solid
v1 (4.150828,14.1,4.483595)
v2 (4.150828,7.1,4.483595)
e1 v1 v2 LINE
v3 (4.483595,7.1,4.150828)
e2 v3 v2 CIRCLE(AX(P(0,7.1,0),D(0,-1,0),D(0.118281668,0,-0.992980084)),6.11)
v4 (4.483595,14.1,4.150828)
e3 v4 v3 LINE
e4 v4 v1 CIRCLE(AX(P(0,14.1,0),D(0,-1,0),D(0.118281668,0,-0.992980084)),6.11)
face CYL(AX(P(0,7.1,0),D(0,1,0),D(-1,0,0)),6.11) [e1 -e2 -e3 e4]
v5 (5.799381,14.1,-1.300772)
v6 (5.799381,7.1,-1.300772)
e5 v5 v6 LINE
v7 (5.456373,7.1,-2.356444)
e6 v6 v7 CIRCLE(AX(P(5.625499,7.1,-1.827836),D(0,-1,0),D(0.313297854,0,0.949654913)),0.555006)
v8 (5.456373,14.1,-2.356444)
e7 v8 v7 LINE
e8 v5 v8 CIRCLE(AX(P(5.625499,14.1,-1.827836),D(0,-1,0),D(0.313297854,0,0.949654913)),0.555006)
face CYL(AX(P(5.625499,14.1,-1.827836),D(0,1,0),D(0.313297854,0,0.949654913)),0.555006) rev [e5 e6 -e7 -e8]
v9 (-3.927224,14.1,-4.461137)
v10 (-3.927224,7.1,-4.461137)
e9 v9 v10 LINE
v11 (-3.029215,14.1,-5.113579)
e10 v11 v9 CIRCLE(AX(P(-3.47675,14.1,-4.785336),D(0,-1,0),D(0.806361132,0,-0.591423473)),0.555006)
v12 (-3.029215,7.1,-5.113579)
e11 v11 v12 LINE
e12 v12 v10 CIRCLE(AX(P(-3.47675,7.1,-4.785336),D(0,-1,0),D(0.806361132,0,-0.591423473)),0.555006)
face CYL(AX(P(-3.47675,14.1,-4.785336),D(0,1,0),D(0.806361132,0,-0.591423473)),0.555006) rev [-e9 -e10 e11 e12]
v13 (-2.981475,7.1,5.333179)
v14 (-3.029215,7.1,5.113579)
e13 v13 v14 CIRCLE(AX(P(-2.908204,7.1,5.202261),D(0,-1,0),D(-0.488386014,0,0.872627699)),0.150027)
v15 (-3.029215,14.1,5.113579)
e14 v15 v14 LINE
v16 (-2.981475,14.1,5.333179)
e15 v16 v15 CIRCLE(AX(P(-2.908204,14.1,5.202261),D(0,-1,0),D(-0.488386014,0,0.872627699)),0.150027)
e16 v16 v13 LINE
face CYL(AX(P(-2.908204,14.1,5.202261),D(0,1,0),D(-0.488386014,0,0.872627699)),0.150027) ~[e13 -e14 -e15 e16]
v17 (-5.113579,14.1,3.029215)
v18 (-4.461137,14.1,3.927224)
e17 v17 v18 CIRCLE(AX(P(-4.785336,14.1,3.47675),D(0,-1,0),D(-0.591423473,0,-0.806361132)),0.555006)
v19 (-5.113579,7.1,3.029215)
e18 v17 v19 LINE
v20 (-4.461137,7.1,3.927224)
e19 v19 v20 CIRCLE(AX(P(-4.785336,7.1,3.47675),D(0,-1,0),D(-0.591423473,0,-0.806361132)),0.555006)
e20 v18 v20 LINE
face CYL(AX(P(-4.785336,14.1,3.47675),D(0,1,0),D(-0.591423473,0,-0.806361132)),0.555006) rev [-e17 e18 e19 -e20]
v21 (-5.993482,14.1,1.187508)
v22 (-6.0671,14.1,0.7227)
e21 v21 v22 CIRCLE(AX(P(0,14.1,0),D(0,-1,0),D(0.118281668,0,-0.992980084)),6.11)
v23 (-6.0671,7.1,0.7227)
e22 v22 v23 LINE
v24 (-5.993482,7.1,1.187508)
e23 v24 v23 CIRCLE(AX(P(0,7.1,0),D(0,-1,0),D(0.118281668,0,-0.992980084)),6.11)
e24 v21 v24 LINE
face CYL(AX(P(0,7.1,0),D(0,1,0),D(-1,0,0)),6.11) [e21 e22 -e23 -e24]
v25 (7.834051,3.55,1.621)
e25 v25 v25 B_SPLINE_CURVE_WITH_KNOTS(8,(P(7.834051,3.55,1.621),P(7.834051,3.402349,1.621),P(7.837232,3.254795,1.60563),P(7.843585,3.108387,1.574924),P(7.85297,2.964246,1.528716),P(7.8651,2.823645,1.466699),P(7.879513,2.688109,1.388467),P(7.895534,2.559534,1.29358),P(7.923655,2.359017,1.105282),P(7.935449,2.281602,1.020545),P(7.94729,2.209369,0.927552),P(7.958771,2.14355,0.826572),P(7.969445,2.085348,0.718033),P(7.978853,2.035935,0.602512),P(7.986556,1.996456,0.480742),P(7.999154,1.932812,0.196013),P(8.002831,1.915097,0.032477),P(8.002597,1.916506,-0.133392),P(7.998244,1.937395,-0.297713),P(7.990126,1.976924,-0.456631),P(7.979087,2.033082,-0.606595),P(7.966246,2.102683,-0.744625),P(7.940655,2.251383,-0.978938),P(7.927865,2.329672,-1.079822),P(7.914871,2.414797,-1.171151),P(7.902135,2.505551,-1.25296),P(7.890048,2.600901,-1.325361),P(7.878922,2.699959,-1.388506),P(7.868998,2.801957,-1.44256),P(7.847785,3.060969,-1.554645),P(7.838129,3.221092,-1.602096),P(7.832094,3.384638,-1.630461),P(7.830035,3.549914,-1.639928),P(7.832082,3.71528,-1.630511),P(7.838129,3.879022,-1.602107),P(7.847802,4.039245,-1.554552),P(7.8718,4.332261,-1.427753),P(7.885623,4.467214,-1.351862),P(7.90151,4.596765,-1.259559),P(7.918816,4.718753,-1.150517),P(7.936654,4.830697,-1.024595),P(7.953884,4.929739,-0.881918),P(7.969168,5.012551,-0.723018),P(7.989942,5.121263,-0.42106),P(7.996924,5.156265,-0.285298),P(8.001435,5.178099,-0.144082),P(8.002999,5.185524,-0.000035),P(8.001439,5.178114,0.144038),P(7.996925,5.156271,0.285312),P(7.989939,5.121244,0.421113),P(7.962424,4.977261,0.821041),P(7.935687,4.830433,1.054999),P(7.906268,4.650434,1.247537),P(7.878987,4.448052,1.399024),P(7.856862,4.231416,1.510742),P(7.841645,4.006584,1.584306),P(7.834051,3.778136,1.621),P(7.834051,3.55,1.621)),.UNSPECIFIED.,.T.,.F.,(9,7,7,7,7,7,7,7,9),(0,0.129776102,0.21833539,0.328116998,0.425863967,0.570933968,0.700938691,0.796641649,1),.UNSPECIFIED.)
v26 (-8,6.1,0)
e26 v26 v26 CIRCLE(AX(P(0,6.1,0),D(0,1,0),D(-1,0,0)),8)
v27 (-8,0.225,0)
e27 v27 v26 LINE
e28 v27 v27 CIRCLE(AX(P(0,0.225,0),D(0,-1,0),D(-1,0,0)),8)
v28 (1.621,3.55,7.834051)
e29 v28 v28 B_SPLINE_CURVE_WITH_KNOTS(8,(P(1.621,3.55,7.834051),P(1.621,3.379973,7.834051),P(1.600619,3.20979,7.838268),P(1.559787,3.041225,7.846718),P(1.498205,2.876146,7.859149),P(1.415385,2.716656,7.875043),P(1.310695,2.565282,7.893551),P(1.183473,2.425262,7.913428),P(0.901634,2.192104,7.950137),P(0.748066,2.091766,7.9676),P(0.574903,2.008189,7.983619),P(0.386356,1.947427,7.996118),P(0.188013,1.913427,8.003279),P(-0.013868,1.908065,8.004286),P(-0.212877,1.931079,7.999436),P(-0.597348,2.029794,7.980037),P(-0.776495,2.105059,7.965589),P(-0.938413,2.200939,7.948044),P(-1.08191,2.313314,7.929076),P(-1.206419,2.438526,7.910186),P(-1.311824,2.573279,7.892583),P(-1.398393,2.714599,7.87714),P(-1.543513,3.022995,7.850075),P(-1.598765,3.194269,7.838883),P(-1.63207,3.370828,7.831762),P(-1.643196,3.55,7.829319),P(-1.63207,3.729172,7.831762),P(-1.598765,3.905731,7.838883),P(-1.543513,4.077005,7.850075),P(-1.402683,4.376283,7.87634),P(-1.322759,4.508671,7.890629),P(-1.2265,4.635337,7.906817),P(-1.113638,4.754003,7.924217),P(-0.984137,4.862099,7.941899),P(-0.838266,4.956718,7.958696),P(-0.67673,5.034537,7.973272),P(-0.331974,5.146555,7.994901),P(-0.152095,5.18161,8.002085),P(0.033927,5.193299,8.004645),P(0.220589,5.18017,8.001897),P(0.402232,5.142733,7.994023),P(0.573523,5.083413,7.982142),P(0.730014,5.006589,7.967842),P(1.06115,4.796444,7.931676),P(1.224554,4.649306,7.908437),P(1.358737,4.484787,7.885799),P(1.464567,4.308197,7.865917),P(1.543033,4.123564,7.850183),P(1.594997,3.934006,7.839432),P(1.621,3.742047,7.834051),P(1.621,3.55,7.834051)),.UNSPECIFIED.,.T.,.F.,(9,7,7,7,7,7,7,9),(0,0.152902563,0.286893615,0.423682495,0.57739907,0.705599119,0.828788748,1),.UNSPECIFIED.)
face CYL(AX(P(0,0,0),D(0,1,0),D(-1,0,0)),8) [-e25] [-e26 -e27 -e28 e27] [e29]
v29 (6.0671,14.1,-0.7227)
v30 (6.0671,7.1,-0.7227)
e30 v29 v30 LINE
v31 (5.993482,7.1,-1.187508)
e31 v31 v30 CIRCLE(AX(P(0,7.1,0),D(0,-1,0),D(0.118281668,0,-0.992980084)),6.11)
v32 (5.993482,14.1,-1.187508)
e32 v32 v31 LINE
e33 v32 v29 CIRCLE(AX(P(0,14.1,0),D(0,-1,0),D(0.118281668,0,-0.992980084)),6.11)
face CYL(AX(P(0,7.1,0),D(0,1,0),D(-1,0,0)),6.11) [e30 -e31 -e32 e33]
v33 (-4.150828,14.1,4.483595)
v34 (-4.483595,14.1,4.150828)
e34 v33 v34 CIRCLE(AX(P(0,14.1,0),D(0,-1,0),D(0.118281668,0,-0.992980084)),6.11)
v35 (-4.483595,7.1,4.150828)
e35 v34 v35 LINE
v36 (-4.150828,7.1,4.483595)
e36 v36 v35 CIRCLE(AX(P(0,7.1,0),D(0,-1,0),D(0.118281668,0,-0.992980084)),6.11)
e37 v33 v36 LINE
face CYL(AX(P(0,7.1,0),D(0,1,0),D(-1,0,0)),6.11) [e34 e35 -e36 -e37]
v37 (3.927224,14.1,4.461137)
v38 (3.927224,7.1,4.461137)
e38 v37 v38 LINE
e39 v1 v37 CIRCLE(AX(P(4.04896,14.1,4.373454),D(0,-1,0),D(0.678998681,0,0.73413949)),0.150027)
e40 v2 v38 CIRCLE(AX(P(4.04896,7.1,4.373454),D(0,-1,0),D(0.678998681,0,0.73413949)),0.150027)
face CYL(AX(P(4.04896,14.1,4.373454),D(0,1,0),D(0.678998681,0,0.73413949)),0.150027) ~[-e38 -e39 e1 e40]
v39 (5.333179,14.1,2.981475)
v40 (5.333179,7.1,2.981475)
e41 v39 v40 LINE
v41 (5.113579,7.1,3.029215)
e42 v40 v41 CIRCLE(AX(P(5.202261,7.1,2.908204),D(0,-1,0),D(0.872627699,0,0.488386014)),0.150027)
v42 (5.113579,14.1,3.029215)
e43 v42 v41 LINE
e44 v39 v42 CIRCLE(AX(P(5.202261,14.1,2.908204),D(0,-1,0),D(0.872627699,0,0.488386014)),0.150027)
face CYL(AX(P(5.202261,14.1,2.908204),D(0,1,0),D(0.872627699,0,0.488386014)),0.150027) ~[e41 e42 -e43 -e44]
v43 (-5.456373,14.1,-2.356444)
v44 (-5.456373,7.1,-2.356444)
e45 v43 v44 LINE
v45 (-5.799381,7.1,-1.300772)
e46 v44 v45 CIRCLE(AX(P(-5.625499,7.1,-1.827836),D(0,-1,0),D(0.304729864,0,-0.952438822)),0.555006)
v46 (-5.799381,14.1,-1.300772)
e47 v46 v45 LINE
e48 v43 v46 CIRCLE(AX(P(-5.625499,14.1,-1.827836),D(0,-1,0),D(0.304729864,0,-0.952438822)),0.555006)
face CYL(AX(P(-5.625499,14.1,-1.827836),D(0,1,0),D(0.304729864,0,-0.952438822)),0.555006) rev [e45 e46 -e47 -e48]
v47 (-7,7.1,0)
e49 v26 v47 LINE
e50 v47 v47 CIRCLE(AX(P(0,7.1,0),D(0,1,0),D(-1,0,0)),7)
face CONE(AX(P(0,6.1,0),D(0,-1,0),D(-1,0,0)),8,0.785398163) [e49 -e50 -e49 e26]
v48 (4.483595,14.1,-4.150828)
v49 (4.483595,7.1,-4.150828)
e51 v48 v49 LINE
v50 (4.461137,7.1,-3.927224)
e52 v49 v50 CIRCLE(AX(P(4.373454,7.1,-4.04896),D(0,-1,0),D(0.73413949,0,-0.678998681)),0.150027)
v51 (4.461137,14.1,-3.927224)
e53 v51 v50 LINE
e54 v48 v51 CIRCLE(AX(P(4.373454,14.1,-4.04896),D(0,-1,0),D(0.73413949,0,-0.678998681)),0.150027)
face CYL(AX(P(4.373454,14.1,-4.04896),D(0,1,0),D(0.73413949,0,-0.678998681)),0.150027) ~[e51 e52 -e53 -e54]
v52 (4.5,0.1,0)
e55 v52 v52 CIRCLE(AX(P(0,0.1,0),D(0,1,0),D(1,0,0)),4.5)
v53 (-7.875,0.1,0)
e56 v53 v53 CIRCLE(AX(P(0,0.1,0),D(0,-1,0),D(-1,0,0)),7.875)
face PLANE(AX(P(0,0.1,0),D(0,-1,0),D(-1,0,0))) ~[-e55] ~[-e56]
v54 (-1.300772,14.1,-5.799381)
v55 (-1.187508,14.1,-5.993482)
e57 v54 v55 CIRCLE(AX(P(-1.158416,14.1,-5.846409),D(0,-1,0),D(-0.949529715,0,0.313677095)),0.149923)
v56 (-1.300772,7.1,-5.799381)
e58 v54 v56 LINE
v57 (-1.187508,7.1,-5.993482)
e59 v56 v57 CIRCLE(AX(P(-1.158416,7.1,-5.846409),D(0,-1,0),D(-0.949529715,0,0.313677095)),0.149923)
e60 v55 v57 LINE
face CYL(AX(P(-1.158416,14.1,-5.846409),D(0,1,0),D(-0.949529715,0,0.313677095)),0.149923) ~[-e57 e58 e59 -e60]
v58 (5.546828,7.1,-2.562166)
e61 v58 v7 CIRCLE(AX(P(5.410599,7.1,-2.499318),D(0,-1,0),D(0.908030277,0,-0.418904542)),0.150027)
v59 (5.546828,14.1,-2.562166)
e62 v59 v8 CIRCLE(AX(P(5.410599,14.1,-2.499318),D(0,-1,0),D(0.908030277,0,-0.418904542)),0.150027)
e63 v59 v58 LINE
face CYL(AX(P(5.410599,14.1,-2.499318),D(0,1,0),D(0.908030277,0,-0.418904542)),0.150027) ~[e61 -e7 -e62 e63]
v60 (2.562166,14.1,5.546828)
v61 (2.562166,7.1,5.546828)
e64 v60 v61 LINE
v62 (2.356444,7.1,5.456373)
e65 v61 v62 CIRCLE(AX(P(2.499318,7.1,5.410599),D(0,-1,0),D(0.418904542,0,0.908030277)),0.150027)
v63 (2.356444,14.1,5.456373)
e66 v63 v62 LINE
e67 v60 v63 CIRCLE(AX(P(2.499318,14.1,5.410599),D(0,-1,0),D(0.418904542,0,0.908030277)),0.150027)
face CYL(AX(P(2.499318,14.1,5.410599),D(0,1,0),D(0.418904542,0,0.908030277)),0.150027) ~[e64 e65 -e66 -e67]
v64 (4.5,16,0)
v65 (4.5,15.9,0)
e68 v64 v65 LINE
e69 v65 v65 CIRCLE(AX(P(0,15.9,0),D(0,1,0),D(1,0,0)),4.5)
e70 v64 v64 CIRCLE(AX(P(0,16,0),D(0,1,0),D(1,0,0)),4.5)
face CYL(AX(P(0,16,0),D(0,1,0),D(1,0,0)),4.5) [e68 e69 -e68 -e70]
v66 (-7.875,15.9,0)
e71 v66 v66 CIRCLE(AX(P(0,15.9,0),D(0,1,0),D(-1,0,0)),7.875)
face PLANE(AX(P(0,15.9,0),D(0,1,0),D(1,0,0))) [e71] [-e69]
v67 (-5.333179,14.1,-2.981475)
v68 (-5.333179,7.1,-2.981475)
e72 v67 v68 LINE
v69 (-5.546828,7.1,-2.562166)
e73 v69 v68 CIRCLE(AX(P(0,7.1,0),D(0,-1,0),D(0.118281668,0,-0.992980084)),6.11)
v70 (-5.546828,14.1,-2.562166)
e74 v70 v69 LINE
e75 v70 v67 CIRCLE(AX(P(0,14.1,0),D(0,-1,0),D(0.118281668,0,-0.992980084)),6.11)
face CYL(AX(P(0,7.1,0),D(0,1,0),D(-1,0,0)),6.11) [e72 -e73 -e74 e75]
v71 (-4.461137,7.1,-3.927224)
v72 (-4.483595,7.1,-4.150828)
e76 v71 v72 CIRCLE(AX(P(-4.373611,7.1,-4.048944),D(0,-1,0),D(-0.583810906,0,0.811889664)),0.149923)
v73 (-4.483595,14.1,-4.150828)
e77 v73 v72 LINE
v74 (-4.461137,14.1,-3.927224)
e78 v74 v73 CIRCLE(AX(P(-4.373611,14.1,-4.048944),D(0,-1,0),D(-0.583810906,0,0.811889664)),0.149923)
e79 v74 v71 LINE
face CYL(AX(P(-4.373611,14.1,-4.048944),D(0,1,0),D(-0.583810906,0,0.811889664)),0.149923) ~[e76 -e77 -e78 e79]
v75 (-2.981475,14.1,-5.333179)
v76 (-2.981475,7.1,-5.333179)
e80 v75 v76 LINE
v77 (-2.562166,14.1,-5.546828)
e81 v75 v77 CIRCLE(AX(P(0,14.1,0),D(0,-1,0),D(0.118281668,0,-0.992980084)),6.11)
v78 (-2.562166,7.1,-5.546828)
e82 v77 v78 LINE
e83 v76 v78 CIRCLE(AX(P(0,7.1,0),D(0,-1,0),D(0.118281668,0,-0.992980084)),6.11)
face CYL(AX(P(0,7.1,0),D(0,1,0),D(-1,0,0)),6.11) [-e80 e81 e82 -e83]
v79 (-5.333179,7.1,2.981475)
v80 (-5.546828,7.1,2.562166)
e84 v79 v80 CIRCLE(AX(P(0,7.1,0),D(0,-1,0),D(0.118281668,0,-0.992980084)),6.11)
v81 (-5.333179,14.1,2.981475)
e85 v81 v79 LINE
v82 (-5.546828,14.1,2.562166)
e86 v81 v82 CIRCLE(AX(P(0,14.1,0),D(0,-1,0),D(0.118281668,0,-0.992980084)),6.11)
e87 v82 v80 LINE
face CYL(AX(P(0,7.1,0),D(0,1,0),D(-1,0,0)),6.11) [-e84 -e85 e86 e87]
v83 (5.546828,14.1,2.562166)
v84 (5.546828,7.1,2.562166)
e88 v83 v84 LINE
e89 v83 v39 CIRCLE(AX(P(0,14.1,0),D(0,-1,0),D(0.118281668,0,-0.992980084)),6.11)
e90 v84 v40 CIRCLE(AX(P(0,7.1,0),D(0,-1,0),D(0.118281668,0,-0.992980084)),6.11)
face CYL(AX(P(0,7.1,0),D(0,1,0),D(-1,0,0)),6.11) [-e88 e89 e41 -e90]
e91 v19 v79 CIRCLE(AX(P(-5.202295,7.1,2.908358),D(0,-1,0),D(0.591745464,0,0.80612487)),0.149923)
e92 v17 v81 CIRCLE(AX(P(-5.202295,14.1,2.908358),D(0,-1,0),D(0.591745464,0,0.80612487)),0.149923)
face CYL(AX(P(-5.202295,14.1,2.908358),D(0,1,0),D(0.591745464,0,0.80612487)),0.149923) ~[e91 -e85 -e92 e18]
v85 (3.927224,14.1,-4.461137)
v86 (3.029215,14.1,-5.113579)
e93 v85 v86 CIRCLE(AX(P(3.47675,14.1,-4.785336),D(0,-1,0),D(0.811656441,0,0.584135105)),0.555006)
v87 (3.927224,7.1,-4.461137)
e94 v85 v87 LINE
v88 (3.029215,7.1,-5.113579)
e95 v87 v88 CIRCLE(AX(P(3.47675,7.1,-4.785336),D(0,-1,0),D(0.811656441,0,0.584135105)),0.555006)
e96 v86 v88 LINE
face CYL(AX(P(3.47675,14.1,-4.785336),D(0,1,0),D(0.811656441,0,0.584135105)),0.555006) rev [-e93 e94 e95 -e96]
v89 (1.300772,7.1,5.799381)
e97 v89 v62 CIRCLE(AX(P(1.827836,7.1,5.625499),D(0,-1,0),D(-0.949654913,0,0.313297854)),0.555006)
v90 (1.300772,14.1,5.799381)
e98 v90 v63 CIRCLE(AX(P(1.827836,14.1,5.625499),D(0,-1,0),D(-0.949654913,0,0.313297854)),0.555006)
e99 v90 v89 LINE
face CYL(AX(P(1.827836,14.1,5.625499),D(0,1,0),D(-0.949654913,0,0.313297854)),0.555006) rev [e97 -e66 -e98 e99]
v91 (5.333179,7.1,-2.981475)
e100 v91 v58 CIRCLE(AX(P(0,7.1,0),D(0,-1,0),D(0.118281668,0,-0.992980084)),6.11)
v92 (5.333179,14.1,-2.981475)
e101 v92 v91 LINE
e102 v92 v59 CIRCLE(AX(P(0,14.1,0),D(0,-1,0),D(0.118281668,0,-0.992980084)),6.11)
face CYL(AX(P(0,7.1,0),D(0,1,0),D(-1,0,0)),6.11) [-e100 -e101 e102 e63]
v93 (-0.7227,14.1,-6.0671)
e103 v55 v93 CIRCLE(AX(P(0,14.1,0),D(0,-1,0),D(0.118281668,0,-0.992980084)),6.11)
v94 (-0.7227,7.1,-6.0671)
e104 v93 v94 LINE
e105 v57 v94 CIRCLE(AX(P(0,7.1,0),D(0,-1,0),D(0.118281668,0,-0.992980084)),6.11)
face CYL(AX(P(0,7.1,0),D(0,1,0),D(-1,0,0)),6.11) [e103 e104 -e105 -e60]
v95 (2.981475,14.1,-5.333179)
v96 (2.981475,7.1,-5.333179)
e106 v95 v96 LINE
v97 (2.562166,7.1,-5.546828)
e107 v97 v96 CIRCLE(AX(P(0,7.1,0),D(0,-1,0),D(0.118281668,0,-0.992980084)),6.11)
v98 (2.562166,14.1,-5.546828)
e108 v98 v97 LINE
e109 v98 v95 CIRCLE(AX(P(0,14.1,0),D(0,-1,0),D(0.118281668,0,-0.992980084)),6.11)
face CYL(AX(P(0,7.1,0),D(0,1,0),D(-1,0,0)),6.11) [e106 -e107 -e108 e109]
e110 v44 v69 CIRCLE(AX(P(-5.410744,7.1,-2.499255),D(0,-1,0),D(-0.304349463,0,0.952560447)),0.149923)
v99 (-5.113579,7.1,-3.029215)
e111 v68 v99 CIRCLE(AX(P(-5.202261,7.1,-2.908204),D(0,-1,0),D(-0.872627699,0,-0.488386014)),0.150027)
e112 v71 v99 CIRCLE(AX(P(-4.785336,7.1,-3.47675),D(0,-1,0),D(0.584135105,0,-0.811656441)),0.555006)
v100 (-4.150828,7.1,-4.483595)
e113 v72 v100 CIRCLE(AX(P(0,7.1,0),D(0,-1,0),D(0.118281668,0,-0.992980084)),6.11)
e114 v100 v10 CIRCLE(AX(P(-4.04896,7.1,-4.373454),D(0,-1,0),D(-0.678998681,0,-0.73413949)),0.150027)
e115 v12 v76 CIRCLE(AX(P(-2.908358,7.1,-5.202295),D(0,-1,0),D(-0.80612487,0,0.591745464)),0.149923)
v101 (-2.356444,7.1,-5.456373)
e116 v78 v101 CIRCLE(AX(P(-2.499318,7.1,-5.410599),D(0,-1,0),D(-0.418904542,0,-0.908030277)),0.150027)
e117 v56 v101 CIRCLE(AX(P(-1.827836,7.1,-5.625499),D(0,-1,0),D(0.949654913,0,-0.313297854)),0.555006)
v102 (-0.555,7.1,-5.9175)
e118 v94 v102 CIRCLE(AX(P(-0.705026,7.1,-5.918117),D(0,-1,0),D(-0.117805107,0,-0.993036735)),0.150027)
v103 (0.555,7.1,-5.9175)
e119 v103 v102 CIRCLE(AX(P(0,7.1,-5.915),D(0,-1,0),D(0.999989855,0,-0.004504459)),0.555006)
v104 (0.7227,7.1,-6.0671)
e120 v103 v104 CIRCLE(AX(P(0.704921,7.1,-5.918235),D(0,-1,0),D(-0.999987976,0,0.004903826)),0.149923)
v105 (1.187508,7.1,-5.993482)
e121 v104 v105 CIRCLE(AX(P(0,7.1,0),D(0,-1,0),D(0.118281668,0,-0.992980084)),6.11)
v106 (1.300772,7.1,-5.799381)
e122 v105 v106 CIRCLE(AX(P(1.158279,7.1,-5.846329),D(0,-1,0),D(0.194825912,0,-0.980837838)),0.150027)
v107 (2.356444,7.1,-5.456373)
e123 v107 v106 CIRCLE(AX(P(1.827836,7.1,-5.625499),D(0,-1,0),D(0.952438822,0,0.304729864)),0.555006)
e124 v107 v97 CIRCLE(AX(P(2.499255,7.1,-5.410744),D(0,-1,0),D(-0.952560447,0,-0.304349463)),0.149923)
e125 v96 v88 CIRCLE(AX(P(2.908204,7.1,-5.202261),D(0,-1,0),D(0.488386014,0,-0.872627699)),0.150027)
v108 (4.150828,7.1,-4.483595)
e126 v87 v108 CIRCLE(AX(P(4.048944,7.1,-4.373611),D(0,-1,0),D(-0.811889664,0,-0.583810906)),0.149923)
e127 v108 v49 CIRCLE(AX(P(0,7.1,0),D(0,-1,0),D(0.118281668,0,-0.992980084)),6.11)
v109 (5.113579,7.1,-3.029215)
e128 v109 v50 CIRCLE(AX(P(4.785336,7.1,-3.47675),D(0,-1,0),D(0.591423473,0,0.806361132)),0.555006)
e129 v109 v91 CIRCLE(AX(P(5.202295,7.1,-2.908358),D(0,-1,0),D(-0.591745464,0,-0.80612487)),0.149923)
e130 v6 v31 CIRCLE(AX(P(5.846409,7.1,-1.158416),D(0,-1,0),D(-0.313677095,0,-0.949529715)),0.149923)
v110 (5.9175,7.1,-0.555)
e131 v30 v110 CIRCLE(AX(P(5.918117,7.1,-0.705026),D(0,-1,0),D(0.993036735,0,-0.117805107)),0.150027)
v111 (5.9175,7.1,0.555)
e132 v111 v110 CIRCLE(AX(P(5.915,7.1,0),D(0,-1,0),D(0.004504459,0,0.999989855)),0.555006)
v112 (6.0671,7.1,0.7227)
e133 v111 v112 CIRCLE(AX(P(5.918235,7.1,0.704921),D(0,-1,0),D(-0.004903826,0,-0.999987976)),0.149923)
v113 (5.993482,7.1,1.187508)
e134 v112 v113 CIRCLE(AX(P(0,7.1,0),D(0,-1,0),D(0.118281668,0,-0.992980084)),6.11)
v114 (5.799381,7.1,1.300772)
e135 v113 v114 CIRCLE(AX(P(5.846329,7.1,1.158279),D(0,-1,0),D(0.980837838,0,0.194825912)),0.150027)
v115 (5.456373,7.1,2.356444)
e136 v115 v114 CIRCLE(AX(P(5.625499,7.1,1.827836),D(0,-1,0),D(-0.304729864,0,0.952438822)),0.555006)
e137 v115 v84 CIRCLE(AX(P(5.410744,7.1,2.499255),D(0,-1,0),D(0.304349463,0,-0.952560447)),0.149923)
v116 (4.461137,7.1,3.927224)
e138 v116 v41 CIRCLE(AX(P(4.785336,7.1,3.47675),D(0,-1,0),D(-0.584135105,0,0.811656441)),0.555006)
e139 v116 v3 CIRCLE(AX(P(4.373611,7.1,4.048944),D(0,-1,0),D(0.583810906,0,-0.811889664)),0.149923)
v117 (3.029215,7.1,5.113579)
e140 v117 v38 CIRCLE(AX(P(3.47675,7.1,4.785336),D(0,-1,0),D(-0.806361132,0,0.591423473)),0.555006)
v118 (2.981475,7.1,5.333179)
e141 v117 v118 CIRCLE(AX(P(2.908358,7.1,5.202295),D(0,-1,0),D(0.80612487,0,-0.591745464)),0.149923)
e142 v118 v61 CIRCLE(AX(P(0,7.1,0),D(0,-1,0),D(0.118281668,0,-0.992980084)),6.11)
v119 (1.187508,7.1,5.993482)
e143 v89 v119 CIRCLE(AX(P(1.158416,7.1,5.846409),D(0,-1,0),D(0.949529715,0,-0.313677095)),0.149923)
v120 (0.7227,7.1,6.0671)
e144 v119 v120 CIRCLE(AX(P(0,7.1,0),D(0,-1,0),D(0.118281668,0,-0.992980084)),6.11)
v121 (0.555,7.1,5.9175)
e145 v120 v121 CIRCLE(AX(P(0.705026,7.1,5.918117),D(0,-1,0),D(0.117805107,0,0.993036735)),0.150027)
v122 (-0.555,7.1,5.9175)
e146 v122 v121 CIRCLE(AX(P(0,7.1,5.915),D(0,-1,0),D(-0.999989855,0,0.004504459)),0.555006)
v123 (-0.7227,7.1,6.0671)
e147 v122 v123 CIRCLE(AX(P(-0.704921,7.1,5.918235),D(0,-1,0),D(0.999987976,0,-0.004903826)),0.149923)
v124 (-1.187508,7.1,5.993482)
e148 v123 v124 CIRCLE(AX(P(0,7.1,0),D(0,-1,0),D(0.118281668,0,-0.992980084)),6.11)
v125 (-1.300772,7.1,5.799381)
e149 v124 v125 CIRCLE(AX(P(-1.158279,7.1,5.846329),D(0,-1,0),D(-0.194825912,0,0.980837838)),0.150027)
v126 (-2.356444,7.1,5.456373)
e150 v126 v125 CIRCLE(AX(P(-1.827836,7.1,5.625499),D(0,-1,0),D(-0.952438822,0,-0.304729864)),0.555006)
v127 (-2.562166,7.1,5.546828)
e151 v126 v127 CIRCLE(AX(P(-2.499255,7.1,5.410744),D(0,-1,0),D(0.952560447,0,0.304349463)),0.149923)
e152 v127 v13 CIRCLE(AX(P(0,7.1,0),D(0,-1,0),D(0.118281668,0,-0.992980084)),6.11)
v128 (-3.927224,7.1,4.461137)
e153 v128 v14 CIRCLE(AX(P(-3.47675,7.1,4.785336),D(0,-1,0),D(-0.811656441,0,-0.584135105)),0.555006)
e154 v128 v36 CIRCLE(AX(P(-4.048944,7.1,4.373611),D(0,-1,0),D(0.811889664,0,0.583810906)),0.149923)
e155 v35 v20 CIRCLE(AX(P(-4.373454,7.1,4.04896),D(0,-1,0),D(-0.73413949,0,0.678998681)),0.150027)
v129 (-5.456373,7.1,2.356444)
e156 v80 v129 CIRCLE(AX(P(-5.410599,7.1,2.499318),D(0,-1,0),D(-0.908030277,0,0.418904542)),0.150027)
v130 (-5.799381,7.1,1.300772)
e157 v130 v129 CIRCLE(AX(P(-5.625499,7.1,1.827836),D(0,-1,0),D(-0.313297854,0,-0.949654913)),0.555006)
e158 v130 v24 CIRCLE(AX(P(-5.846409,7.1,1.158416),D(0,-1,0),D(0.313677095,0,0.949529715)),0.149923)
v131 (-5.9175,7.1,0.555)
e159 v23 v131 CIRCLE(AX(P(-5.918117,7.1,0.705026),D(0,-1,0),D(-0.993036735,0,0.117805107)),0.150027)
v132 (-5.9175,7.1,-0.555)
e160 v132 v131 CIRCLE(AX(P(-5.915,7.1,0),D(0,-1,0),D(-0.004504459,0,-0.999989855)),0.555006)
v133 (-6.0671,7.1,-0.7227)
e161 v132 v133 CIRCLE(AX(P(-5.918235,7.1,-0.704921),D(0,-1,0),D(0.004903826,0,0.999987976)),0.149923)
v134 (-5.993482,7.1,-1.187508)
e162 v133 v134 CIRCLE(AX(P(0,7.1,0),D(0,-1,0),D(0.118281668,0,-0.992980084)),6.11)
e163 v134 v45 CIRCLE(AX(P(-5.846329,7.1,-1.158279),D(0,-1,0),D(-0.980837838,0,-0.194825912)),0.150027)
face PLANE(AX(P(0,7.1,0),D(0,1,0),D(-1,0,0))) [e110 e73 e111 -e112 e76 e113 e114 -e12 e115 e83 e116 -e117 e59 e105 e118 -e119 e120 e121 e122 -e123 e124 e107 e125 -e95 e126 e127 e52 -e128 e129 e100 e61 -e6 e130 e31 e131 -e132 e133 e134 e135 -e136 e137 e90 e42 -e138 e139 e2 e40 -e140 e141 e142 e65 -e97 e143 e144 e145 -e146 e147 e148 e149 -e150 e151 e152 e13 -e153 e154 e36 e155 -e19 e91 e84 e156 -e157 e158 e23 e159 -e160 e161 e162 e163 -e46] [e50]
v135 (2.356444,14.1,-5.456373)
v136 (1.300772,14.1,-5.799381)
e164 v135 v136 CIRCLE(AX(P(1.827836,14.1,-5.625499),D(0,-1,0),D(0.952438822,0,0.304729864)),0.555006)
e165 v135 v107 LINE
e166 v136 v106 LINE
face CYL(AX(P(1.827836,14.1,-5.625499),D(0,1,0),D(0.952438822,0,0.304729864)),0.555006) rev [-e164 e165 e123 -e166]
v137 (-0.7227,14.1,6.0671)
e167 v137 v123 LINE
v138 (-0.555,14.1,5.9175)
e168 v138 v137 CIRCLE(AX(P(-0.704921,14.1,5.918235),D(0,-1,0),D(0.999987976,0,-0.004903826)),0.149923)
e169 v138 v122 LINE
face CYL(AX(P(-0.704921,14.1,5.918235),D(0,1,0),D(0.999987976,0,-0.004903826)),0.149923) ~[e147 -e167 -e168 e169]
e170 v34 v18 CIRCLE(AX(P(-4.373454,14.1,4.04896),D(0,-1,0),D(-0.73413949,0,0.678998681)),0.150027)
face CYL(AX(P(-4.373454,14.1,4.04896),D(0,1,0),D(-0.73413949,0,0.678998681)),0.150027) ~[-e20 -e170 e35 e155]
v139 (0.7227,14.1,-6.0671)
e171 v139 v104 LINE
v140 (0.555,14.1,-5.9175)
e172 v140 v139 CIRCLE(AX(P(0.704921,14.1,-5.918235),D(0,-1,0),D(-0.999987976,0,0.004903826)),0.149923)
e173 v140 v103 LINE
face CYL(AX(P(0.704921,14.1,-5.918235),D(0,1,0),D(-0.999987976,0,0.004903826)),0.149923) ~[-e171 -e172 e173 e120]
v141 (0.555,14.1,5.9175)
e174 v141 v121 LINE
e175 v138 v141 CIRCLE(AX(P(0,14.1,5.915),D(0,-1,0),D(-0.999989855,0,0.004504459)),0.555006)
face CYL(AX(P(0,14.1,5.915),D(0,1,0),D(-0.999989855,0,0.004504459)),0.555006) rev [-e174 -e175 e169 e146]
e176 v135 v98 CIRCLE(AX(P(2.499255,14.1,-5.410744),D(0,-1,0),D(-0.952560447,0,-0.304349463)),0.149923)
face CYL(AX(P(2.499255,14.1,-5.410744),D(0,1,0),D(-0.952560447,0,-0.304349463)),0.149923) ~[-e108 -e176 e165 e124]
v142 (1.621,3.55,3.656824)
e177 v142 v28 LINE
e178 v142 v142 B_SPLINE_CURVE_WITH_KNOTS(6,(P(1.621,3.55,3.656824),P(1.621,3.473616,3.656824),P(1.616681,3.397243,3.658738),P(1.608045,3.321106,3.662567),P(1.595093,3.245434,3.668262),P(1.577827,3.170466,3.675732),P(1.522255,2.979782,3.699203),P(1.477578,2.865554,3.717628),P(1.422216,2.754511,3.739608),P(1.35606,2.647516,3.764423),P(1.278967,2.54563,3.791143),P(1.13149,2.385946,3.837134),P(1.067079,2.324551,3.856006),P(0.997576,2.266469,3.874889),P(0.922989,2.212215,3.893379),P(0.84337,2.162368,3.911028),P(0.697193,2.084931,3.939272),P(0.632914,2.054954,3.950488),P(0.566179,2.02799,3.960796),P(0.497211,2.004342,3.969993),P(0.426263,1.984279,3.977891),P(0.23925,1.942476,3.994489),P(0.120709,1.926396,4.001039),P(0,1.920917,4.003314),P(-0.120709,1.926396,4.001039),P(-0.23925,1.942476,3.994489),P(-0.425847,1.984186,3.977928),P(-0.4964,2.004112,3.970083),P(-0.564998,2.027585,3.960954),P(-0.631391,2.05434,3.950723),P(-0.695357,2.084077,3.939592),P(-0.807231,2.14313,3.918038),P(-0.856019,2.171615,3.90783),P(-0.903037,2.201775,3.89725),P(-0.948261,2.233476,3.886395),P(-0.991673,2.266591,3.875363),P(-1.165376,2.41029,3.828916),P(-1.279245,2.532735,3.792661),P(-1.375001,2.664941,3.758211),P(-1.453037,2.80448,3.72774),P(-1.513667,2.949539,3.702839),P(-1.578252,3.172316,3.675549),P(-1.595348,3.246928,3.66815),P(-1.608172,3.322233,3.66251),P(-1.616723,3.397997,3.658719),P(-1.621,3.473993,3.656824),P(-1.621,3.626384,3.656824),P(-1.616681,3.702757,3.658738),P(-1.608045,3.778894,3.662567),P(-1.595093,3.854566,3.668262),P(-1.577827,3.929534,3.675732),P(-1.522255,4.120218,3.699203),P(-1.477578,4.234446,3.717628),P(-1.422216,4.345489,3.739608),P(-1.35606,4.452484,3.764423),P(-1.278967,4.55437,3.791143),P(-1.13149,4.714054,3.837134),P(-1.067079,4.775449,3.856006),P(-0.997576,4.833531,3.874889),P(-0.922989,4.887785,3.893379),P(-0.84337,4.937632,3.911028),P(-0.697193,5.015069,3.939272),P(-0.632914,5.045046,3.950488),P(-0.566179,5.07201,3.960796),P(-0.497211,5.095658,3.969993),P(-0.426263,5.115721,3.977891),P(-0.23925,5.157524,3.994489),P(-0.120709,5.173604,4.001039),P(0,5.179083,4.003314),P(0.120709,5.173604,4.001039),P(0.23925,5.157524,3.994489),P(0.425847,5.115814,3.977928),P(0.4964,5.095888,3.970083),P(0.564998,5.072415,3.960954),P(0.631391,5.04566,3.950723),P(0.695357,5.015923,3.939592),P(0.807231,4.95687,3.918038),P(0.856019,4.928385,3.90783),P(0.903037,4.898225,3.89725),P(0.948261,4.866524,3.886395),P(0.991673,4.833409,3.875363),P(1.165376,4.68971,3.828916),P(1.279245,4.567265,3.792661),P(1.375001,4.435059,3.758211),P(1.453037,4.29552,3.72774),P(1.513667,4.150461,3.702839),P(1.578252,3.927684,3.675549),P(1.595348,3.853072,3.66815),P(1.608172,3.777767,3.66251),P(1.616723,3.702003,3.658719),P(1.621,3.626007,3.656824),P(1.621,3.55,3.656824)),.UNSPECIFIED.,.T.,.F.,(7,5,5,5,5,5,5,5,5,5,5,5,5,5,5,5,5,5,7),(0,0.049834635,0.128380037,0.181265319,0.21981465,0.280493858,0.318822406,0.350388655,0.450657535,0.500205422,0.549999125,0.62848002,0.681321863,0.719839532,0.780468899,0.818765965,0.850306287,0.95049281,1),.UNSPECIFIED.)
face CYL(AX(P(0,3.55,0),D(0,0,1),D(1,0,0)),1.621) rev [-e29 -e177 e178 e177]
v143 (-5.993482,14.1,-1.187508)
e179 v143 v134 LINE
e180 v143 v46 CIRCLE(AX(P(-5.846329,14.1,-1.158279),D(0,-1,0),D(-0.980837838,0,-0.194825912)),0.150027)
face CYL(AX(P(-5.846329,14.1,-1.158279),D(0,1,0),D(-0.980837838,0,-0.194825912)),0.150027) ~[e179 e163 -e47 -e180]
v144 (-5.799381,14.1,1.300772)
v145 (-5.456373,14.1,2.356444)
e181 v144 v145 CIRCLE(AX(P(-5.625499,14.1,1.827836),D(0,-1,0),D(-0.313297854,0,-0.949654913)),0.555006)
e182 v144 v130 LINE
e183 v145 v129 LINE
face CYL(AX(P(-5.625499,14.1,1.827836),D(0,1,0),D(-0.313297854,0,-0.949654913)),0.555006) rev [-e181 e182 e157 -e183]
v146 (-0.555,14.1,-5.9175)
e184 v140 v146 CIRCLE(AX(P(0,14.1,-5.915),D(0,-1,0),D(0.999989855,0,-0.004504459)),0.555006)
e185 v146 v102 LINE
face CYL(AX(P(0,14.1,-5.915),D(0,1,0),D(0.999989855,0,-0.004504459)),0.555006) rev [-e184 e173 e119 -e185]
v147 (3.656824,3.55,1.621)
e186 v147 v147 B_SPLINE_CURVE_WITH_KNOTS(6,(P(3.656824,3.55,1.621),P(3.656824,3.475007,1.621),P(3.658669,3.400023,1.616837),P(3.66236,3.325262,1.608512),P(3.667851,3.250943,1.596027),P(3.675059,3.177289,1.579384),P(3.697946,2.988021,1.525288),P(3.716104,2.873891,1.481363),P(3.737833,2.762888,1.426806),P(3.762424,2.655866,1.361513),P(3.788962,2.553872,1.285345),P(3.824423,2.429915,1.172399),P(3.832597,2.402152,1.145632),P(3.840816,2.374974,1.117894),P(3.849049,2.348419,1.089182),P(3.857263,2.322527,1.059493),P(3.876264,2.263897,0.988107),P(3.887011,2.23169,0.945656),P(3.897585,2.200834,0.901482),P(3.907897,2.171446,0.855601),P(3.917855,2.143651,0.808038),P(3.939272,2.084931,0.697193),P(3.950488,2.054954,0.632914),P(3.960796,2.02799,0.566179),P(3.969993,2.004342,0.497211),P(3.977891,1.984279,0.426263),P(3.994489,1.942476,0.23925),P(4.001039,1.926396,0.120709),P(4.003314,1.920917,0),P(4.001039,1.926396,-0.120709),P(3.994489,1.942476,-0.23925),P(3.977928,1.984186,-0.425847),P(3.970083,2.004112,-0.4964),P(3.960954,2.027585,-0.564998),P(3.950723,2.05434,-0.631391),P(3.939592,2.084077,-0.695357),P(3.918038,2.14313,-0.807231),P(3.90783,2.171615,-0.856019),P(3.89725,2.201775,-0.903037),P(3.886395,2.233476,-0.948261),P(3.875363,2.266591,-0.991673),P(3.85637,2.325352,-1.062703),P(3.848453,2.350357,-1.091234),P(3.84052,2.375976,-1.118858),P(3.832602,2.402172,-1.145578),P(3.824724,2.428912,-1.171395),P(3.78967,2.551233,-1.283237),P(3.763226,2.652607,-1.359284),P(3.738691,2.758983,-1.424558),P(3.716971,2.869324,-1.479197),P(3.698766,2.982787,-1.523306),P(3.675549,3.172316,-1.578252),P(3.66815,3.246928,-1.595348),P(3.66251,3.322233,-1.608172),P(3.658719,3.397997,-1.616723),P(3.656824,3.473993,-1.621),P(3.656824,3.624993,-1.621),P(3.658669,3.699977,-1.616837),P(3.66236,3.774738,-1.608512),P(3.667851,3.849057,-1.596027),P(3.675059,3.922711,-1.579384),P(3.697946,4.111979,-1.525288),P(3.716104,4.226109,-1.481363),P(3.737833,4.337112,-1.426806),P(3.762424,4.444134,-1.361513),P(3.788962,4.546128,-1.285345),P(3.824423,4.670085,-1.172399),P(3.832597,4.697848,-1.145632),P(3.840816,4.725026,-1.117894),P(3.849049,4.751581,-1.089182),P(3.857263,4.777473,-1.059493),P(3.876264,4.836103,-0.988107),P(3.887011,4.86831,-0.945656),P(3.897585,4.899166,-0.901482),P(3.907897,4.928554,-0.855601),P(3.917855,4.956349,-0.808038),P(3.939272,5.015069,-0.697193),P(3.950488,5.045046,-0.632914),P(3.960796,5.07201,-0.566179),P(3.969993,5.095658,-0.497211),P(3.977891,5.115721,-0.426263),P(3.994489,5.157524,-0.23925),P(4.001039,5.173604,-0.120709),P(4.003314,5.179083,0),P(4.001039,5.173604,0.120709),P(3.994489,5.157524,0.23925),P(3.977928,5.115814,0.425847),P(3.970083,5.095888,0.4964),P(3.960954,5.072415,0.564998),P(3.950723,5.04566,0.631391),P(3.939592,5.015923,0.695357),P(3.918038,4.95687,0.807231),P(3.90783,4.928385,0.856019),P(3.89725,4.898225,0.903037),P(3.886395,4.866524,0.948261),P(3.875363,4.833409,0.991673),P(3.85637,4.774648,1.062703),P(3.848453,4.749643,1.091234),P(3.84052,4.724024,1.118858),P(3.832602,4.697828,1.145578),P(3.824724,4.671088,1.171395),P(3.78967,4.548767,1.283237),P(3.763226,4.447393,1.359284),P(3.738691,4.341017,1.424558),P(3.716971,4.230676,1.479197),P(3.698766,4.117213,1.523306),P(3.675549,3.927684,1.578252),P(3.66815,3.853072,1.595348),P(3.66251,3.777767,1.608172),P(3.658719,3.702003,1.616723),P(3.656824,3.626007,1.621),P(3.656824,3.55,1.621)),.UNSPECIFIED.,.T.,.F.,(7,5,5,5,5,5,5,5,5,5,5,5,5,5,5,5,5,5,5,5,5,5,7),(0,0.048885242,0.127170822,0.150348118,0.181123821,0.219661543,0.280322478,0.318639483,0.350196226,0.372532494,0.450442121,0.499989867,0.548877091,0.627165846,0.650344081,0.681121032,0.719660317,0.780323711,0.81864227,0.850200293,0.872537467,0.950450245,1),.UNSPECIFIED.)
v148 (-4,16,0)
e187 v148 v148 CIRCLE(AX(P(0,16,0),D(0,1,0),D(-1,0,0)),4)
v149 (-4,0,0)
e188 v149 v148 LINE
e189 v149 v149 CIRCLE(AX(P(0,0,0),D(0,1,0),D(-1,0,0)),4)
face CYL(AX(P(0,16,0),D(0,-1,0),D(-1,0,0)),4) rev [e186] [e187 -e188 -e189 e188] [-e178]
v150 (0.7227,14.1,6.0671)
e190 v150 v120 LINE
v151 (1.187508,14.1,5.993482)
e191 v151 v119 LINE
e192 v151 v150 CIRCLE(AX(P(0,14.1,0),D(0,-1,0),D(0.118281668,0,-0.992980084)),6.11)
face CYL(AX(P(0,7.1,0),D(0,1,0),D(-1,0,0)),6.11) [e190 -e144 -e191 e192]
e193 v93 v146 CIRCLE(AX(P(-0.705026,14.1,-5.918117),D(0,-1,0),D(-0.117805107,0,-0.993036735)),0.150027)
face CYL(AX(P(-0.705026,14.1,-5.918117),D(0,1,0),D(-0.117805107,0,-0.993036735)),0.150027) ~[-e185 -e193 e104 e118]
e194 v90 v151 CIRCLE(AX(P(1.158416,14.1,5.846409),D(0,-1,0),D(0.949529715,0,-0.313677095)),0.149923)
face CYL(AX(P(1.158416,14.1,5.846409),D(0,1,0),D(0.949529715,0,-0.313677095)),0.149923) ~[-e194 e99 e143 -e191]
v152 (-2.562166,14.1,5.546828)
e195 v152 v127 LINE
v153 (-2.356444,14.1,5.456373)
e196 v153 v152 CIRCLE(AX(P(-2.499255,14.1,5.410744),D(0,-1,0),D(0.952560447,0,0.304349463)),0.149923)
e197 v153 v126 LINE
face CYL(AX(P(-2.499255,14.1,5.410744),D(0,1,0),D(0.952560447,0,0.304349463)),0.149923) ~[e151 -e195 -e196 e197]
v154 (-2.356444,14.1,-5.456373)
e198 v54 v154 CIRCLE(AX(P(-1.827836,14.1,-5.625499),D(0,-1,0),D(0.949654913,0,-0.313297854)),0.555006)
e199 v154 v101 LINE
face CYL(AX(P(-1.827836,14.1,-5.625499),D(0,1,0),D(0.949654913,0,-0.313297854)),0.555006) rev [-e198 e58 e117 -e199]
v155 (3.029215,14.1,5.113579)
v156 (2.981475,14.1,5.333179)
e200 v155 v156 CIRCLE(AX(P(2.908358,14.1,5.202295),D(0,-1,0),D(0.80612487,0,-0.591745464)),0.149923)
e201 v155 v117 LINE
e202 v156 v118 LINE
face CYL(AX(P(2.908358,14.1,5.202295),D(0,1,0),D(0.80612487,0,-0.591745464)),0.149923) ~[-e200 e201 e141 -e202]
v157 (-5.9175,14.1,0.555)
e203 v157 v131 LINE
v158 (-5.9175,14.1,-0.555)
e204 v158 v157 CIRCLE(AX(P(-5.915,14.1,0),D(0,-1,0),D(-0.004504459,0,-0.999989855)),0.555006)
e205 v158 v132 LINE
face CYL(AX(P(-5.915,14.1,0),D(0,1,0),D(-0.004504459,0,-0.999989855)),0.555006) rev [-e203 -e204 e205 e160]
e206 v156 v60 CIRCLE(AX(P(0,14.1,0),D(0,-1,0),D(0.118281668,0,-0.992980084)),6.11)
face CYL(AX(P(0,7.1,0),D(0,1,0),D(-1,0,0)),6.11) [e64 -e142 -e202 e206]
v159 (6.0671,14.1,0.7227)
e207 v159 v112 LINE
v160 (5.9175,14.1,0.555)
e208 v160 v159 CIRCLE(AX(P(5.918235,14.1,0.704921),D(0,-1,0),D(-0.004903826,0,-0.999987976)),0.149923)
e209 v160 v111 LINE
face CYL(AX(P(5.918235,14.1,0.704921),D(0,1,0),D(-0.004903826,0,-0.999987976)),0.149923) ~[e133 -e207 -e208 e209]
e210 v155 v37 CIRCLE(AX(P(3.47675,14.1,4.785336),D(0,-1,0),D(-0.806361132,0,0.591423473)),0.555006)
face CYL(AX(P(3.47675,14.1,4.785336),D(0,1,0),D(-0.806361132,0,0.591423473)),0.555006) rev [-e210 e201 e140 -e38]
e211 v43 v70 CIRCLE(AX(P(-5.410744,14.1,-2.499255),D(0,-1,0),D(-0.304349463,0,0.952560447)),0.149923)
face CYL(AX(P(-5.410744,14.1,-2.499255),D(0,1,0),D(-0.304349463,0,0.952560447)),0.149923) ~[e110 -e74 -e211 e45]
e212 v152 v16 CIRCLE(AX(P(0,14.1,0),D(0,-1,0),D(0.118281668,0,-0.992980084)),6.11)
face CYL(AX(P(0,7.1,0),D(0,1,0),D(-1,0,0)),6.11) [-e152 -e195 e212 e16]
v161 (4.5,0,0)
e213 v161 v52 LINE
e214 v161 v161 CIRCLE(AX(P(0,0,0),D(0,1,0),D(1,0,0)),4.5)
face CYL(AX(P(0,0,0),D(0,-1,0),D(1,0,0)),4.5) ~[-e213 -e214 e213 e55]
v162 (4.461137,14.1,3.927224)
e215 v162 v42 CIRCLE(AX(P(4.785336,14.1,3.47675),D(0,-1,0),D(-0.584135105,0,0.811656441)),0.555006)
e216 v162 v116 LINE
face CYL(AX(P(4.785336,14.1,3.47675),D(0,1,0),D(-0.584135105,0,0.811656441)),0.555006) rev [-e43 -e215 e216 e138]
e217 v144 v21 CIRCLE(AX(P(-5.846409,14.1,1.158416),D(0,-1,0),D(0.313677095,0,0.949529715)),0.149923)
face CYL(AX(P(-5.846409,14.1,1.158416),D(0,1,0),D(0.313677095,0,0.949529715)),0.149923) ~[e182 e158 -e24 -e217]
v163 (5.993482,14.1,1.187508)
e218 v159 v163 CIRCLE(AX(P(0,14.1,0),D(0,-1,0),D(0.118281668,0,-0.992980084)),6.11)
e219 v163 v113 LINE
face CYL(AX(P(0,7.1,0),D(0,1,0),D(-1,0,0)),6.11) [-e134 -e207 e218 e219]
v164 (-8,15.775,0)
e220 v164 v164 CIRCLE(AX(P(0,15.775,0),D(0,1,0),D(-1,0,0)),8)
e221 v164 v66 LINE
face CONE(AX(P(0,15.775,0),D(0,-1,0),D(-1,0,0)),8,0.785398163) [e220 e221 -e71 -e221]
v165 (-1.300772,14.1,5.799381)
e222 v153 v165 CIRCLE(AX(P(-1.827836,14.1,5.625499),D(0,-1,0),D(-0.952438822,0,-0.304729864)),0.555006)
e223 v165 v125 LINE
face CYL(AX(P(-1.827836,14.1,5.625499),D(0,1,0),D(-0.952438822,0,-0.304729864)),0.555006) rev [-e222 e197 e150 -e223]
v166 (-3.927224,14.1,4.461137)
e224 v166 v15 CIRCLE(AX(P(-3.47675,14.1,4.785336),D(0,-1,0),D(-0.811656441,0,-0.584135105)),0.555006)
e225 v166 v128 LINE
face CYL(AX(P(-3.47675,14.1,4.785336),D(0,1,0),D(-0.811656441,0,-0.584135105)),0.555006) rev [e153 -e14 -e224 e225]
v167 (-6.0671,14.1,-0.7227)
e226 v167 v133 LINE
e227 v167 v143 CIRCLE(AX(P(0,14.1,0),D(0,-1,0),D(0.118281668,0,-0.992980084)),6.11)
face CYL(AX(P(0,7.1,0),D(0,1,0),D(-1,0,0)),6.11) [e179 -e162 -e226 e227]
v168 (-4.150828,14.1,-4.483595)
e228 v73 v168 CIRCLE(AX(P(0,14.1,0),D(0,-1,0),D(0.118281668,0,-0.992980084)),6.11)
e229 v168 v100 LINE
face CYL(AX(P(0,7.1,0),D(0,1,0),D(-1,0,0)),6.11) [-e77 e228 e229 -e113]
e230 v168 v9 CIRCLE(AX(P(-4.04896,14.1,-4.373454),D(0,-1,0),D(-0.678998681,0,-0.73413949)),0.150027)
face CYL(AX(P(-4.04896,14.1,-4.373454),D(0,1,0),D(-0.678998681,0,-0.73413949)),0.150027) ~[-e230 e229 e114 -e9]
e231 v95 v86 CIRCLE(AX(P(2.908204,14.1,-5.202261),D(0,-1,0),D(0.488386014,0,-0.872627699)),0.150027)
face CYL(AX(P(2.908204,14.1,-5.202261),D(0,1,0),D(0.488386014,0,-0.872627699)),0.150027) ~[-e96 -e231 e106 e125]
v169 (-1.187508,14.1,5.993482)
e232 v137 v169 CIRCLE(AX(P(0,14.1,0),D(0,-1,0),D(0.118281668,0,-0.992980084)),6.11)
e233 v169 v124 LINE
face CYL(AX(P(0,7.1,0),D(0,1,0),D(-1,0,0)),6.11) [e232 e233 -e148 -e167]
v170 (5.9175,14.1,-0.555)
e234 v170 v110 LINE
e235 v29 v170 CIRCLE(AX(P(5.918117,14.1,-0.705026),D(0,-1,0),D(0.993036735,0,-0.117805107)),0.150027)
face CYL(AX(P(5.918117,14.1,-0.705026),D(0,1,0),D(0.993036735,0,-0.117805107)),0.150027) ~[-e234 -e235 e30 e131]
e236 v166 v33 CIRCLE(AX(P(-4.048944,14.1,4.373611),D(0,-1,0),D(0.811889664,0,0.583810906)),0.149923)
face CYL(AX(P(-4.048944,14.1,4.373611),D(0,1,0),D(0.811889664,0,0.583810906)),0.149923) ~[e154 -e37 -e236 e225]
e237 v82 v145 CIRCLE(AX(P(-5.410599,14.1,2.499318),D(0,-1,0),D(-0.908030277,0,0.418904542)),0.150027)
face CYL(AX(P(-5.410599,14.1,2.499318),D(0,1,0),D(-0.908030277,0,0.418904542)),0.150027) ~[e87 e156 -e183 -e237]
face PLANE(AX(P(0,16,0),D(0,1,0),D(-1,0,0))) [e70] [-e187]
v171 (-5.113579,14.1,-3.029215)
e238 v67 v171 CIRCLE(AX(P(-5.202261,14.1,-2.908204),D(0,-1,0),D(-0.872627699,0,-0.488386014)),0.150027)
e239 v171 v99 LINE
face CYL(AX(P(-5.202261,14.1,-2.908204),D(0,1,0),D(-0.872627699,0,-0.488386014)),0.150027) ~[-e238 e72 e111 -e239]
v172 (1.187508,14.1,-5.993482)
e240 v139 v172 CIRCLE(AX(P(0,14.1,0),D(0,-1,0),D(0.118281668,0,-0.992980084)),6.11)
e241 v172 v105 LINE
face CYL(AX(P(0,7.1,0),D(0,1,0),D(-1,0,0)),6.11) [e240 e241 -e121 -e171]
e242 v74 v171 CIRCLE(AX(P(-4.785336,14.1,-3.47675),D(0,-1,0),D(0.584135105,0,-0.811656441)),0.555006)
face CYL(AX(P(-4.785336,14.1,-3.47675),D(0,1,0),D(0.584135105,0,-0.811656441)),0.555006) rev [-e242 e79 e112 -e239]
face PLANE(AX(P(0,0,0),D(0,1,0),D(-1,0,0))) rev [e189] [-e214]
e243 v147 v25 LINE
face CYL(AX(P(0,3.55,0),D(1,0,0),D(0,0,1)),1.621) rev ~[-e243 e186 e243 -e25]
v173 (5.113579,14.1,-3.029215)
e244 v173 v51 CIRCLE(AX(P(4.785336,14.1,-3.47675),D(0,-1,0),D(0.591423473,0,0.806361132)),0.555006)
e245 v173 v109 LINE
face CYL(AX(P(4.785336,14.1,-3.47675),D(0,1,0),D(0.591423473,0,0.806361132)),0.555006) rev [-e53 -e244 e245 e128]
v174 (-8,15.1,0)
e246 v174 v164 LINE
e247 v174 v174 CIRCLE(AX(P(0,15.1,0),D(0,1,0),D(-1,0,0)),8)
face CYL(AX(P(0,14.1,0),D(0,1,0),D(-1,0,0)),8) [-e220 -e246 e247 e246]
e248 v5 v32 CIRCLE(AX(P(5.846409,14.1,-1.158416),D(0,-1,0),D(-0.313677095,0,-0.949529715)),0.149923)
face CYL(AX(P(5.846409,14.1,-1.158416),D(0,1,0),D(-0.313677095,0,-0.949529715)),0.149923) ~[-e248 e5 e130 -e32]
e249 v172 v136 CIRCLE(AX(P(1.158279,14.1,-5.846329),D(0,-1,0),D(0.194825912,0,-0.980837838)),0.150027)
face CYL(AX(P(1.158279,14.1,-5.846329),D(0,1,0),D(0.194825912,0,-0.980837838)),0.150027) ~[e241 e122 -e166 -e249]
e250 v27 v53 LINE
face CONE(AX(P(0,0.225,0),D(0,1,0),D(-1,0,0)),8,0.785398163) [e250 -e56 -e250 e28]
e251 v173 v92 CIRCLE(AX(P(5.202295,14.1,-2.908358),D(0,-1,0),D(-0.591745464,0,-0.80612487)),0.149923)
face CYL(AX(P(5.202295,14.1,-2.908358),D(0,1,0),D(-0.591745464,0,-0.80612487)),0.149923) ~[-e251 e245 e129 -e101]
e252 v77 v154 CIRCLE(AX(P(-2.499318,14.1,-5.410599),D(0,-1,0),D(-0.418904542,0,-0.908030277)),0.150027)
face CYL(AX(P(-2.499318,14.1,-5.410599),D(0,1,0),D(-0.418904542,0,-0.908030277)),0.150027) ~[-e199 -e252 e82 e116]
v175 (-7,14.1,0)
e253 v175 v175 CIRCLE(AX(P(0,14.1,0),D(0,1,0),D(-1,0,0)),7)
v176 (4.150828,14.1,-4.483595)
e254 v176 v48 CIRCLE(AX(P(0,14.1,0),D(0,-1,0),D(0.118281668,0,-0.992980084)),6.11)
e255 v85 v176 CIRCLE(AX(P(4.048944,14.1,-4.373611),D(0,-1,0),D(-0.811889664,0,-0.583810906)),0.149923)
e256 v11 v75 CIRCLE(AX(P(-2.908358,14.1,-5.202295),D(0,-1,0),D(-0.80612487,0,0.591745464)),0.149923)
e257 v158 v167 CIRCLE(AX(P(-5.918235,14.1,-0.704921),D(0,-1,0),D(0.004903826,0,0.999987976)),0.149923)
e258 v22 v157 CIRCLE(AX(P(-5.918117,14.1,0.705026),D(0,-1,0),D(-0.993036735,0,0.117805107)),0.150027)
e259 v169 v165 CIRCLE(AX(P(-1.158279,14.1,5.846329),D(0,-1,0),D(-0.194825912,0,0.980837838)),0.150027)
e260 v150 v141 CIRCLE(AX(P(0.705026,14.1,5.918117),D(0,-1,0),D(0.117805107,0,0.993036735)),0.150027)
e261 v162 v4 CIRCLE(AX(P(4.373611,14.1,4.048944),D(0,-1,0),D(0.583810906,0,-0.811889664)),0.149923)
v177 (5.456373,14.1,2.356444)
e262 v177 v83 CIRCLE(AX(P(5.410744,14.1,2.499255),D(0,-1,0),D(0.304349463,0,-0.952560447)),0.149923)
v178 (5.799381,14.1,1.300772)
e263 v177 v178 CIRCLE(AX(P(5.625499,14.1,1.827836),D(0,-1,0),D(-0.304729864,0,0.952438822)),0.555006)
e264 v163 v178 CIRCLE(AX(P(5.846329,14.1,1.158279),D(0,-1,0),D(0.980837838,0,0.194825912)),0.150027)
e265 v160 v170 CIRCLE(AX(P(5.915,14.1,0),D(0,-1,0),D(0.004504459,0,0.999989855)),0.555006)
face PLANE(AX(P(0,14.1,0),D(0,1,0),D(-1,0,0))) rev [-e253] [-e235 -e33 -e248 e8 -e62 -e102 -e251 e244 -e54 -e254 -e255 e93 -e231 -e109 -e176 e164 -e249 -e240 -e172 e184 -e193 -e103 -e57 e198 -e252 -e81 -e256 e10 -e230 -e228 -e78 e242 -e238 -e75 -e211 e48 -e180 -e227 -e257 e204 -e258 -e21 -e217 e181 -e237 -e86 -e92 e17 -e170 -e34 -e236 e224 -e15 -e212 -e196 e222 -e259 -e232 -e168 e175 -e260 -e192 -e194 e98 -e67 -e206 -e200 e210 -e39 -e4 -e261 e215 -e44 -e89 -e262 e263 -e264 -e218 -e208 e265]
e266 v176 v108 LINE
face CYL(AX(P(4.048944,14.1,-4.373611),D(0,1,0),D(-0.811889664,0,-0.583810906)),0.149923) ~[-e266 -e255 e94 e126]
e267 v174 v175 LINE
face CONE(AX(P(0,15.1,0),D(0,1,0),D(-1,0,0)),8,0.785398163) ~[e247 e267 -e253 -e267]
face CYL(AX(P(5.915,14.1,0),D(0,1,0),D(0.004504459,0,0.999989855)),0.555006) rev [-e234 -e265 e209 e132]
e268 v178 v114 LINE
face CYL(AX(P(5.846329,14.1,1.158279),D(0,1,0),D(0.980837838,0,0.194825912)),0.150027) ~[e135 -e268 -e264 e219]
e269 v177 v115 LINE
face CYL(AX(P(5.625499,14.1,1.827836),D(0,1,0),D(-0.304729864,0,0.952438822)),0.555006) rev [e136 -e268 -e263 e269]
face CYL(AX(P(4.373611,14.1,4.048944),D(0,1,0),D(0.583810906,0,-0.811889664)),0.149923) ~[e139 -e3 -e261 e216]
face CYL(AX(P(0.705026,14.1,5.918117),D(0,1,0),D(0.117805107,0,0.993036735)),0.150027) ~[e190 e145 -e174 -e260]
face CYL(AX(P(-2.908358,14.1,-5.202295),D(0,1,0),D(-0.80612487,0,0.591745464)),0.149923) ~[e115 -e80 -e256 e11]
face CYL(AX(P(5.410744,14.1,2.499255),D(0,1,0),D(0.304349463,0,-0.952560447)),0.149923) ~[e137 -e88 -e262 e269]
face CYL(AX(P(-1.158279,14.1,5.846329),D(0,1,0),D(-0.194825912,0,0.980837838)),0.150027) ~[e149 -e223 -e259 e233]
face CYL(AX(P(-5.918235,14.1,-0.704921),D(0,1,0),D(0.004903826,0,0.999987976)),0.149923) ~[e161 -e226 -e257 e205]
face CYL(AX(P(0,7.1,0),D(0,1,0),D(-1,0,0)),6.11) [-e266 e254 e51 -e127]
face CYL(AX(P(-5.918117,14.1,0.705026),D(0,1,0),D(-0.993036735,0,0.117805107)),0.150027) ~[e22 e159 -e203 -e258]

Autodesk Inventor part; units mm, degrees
sketch "Sketch1" plane through (0, 0, 0) normal (0, 0, 1) x (1, 0, 0)
  line L0 (0, 0) -> (-8, 0)
  line L1 (-8, 0) -> (-8, 7.1)
  line L2 (-8, 7.1) -> (0, 7.1)
  line L3 (0, 7.1) -> (0, 0)
  line L4 (0, 7.1) -> (-6.11, 7.1)
  line L5 (-6.11, 7.1) -> (-6.11, 14.1)
  line L6 (-6.11, 14.1) -> (0, 14.1)
  line L7 (0, 14.1) -> (0, 7.1)
  line L8 (0, 14.1) -> (-8, 14.1)
  line L9 (-8, 14.1) -> (-8, 16)
  line L10 (-8, 16) -> (0, 16)
  line L11 (0, 16) -> (0, 14.1)
  line L12 (0, 16) -> (-4, 16)
  line L13 (-4, 16) -> (-4, 0)
  line L14 (-4, 0) -> (0, 0)
  line L15 (0, 0) -> (0, 16)
  point P0 (-6.11, 7.1)
  dimension "d0" = 8
  dimension "d1" = 4
  dimension "d2" = 16
  dimension "d3" = 7
  dimension "d4" = 7.1
  dimension "d5" = 6.11
revolve "Revolution1" add sketch "Sketch1" angle 360 about axis through (0, 0, 0) along (0, 1, 0) contours L0 L1 L2 L13 | L2 L5 L6 L13 | L6 L8 L9 L10 L13
sketch "Sketch2" plane through (0, 16, 0) normal (0, 1, 0) x (1, 0, 0)
  circle A0 centre (0, 0) radius 8 projected
  circle A1 centre (0, 0) radius 4 projected
  circle A2 centre (0, 0) radius 4.5
  dimension "d7" = 0.5
extrude "Extrusion1" cut sketch "Sketch2" against normal blind 0.1 contours A0
ref_plane "Work Plane1" through (0, 8, 0) normal (0, 1, 0) x (1, 0, 0)
mirror "Mirror1" about plane through (0, 8, 0) normal (0, 1, 0) of "Extrusion1"
chamfer "Chamfer2" distance 1 angle 45 2 edges at (8, 14.1, 0) (8, 7.1, 0)
chamfer "Chamfer1" distance 0.125 angle 45 2 edges at (8, 15.9, 0) (8, 0.1, 0)
ref_plane "Work Plane2" through (0, 3.55, 0) normal (0, 1, 0) x (1, 0, 0)
sketch "Sketch3" plane through (0, 0, 0) normal (1, 0, 0) x (0, 1, 0)
  line L0 (3.55, 11.2) -> (3.55, -11.2) projected
  line L1 (-0.61, 0) -> (3.66, 0) projected
  point P0 (0, 0)
  point P1 (3.55, 0)
hole "Hole1" at (0, 3.55, 0) direction (1, 0, 0) diameter 3.242 end through all thread size "M4x0.7" class "6H" standard "ANSI Metric M Profile"
ref_plane "Work Plane3" through (0, 0, 0) normal (-0.7071, 0, 0.7071) x (0, -1, 0)
mirror "Mirror2" about plane through (0, 0, 0) normal (-0.7071, 0, 0.7071) of "Hole1"
sketch "Sketch5" plane through (0, 14.1, 0) normal (0, -1, 0) x (1, 0, 0)
  circle A0 centre (0, 0) radius 6.11 projected
  circle A1 centre (0, 0) radius 4 projected
  circle A2 centre (0, 0) radius 6.11 construction
  circle A3 centre (0, 0) radius 6.11 construction
  arc A4 (-0.7227, -6.0671) -> (0.7227, -6.0671) centre (0, 0) ccw
  arc A5 (0.555, -5.9175) -> (0.7227, -6.0671) centre (0.705, -5.9182) ccw
  arc A6 (-0.7227, -6.0671) -> (-0.555, -5.9175) centre (-0.705, -5.9182) ccw
  arc A7 (0.555, -5.9175) -> (-0.555, -5.9175) centre (0, -5.915) ccw
  circle A8 centre (0, 0) radius 7 projected
  point P0 (0.7227, -6.0671)
  dimension "d22" = 12.22
  dimension "d23" = 0.15
  dimension "d24" = 0.555
  dimension "d25" = 0.75
extrude "Extrusion2" cut sketch "Sketch5" along normal up to surface (7 mm away) contours A6 A7 A5 A0 picked at (-0.0224, -5.8582)
pattern_circular "Circular Pattern1" count 20 over 360 about axis through (0, 8, 0) along (0, 1, 0) of "Extrusion2"
properties part number "9mm 20T GT2 Timing Pulley 8mm Bore"
